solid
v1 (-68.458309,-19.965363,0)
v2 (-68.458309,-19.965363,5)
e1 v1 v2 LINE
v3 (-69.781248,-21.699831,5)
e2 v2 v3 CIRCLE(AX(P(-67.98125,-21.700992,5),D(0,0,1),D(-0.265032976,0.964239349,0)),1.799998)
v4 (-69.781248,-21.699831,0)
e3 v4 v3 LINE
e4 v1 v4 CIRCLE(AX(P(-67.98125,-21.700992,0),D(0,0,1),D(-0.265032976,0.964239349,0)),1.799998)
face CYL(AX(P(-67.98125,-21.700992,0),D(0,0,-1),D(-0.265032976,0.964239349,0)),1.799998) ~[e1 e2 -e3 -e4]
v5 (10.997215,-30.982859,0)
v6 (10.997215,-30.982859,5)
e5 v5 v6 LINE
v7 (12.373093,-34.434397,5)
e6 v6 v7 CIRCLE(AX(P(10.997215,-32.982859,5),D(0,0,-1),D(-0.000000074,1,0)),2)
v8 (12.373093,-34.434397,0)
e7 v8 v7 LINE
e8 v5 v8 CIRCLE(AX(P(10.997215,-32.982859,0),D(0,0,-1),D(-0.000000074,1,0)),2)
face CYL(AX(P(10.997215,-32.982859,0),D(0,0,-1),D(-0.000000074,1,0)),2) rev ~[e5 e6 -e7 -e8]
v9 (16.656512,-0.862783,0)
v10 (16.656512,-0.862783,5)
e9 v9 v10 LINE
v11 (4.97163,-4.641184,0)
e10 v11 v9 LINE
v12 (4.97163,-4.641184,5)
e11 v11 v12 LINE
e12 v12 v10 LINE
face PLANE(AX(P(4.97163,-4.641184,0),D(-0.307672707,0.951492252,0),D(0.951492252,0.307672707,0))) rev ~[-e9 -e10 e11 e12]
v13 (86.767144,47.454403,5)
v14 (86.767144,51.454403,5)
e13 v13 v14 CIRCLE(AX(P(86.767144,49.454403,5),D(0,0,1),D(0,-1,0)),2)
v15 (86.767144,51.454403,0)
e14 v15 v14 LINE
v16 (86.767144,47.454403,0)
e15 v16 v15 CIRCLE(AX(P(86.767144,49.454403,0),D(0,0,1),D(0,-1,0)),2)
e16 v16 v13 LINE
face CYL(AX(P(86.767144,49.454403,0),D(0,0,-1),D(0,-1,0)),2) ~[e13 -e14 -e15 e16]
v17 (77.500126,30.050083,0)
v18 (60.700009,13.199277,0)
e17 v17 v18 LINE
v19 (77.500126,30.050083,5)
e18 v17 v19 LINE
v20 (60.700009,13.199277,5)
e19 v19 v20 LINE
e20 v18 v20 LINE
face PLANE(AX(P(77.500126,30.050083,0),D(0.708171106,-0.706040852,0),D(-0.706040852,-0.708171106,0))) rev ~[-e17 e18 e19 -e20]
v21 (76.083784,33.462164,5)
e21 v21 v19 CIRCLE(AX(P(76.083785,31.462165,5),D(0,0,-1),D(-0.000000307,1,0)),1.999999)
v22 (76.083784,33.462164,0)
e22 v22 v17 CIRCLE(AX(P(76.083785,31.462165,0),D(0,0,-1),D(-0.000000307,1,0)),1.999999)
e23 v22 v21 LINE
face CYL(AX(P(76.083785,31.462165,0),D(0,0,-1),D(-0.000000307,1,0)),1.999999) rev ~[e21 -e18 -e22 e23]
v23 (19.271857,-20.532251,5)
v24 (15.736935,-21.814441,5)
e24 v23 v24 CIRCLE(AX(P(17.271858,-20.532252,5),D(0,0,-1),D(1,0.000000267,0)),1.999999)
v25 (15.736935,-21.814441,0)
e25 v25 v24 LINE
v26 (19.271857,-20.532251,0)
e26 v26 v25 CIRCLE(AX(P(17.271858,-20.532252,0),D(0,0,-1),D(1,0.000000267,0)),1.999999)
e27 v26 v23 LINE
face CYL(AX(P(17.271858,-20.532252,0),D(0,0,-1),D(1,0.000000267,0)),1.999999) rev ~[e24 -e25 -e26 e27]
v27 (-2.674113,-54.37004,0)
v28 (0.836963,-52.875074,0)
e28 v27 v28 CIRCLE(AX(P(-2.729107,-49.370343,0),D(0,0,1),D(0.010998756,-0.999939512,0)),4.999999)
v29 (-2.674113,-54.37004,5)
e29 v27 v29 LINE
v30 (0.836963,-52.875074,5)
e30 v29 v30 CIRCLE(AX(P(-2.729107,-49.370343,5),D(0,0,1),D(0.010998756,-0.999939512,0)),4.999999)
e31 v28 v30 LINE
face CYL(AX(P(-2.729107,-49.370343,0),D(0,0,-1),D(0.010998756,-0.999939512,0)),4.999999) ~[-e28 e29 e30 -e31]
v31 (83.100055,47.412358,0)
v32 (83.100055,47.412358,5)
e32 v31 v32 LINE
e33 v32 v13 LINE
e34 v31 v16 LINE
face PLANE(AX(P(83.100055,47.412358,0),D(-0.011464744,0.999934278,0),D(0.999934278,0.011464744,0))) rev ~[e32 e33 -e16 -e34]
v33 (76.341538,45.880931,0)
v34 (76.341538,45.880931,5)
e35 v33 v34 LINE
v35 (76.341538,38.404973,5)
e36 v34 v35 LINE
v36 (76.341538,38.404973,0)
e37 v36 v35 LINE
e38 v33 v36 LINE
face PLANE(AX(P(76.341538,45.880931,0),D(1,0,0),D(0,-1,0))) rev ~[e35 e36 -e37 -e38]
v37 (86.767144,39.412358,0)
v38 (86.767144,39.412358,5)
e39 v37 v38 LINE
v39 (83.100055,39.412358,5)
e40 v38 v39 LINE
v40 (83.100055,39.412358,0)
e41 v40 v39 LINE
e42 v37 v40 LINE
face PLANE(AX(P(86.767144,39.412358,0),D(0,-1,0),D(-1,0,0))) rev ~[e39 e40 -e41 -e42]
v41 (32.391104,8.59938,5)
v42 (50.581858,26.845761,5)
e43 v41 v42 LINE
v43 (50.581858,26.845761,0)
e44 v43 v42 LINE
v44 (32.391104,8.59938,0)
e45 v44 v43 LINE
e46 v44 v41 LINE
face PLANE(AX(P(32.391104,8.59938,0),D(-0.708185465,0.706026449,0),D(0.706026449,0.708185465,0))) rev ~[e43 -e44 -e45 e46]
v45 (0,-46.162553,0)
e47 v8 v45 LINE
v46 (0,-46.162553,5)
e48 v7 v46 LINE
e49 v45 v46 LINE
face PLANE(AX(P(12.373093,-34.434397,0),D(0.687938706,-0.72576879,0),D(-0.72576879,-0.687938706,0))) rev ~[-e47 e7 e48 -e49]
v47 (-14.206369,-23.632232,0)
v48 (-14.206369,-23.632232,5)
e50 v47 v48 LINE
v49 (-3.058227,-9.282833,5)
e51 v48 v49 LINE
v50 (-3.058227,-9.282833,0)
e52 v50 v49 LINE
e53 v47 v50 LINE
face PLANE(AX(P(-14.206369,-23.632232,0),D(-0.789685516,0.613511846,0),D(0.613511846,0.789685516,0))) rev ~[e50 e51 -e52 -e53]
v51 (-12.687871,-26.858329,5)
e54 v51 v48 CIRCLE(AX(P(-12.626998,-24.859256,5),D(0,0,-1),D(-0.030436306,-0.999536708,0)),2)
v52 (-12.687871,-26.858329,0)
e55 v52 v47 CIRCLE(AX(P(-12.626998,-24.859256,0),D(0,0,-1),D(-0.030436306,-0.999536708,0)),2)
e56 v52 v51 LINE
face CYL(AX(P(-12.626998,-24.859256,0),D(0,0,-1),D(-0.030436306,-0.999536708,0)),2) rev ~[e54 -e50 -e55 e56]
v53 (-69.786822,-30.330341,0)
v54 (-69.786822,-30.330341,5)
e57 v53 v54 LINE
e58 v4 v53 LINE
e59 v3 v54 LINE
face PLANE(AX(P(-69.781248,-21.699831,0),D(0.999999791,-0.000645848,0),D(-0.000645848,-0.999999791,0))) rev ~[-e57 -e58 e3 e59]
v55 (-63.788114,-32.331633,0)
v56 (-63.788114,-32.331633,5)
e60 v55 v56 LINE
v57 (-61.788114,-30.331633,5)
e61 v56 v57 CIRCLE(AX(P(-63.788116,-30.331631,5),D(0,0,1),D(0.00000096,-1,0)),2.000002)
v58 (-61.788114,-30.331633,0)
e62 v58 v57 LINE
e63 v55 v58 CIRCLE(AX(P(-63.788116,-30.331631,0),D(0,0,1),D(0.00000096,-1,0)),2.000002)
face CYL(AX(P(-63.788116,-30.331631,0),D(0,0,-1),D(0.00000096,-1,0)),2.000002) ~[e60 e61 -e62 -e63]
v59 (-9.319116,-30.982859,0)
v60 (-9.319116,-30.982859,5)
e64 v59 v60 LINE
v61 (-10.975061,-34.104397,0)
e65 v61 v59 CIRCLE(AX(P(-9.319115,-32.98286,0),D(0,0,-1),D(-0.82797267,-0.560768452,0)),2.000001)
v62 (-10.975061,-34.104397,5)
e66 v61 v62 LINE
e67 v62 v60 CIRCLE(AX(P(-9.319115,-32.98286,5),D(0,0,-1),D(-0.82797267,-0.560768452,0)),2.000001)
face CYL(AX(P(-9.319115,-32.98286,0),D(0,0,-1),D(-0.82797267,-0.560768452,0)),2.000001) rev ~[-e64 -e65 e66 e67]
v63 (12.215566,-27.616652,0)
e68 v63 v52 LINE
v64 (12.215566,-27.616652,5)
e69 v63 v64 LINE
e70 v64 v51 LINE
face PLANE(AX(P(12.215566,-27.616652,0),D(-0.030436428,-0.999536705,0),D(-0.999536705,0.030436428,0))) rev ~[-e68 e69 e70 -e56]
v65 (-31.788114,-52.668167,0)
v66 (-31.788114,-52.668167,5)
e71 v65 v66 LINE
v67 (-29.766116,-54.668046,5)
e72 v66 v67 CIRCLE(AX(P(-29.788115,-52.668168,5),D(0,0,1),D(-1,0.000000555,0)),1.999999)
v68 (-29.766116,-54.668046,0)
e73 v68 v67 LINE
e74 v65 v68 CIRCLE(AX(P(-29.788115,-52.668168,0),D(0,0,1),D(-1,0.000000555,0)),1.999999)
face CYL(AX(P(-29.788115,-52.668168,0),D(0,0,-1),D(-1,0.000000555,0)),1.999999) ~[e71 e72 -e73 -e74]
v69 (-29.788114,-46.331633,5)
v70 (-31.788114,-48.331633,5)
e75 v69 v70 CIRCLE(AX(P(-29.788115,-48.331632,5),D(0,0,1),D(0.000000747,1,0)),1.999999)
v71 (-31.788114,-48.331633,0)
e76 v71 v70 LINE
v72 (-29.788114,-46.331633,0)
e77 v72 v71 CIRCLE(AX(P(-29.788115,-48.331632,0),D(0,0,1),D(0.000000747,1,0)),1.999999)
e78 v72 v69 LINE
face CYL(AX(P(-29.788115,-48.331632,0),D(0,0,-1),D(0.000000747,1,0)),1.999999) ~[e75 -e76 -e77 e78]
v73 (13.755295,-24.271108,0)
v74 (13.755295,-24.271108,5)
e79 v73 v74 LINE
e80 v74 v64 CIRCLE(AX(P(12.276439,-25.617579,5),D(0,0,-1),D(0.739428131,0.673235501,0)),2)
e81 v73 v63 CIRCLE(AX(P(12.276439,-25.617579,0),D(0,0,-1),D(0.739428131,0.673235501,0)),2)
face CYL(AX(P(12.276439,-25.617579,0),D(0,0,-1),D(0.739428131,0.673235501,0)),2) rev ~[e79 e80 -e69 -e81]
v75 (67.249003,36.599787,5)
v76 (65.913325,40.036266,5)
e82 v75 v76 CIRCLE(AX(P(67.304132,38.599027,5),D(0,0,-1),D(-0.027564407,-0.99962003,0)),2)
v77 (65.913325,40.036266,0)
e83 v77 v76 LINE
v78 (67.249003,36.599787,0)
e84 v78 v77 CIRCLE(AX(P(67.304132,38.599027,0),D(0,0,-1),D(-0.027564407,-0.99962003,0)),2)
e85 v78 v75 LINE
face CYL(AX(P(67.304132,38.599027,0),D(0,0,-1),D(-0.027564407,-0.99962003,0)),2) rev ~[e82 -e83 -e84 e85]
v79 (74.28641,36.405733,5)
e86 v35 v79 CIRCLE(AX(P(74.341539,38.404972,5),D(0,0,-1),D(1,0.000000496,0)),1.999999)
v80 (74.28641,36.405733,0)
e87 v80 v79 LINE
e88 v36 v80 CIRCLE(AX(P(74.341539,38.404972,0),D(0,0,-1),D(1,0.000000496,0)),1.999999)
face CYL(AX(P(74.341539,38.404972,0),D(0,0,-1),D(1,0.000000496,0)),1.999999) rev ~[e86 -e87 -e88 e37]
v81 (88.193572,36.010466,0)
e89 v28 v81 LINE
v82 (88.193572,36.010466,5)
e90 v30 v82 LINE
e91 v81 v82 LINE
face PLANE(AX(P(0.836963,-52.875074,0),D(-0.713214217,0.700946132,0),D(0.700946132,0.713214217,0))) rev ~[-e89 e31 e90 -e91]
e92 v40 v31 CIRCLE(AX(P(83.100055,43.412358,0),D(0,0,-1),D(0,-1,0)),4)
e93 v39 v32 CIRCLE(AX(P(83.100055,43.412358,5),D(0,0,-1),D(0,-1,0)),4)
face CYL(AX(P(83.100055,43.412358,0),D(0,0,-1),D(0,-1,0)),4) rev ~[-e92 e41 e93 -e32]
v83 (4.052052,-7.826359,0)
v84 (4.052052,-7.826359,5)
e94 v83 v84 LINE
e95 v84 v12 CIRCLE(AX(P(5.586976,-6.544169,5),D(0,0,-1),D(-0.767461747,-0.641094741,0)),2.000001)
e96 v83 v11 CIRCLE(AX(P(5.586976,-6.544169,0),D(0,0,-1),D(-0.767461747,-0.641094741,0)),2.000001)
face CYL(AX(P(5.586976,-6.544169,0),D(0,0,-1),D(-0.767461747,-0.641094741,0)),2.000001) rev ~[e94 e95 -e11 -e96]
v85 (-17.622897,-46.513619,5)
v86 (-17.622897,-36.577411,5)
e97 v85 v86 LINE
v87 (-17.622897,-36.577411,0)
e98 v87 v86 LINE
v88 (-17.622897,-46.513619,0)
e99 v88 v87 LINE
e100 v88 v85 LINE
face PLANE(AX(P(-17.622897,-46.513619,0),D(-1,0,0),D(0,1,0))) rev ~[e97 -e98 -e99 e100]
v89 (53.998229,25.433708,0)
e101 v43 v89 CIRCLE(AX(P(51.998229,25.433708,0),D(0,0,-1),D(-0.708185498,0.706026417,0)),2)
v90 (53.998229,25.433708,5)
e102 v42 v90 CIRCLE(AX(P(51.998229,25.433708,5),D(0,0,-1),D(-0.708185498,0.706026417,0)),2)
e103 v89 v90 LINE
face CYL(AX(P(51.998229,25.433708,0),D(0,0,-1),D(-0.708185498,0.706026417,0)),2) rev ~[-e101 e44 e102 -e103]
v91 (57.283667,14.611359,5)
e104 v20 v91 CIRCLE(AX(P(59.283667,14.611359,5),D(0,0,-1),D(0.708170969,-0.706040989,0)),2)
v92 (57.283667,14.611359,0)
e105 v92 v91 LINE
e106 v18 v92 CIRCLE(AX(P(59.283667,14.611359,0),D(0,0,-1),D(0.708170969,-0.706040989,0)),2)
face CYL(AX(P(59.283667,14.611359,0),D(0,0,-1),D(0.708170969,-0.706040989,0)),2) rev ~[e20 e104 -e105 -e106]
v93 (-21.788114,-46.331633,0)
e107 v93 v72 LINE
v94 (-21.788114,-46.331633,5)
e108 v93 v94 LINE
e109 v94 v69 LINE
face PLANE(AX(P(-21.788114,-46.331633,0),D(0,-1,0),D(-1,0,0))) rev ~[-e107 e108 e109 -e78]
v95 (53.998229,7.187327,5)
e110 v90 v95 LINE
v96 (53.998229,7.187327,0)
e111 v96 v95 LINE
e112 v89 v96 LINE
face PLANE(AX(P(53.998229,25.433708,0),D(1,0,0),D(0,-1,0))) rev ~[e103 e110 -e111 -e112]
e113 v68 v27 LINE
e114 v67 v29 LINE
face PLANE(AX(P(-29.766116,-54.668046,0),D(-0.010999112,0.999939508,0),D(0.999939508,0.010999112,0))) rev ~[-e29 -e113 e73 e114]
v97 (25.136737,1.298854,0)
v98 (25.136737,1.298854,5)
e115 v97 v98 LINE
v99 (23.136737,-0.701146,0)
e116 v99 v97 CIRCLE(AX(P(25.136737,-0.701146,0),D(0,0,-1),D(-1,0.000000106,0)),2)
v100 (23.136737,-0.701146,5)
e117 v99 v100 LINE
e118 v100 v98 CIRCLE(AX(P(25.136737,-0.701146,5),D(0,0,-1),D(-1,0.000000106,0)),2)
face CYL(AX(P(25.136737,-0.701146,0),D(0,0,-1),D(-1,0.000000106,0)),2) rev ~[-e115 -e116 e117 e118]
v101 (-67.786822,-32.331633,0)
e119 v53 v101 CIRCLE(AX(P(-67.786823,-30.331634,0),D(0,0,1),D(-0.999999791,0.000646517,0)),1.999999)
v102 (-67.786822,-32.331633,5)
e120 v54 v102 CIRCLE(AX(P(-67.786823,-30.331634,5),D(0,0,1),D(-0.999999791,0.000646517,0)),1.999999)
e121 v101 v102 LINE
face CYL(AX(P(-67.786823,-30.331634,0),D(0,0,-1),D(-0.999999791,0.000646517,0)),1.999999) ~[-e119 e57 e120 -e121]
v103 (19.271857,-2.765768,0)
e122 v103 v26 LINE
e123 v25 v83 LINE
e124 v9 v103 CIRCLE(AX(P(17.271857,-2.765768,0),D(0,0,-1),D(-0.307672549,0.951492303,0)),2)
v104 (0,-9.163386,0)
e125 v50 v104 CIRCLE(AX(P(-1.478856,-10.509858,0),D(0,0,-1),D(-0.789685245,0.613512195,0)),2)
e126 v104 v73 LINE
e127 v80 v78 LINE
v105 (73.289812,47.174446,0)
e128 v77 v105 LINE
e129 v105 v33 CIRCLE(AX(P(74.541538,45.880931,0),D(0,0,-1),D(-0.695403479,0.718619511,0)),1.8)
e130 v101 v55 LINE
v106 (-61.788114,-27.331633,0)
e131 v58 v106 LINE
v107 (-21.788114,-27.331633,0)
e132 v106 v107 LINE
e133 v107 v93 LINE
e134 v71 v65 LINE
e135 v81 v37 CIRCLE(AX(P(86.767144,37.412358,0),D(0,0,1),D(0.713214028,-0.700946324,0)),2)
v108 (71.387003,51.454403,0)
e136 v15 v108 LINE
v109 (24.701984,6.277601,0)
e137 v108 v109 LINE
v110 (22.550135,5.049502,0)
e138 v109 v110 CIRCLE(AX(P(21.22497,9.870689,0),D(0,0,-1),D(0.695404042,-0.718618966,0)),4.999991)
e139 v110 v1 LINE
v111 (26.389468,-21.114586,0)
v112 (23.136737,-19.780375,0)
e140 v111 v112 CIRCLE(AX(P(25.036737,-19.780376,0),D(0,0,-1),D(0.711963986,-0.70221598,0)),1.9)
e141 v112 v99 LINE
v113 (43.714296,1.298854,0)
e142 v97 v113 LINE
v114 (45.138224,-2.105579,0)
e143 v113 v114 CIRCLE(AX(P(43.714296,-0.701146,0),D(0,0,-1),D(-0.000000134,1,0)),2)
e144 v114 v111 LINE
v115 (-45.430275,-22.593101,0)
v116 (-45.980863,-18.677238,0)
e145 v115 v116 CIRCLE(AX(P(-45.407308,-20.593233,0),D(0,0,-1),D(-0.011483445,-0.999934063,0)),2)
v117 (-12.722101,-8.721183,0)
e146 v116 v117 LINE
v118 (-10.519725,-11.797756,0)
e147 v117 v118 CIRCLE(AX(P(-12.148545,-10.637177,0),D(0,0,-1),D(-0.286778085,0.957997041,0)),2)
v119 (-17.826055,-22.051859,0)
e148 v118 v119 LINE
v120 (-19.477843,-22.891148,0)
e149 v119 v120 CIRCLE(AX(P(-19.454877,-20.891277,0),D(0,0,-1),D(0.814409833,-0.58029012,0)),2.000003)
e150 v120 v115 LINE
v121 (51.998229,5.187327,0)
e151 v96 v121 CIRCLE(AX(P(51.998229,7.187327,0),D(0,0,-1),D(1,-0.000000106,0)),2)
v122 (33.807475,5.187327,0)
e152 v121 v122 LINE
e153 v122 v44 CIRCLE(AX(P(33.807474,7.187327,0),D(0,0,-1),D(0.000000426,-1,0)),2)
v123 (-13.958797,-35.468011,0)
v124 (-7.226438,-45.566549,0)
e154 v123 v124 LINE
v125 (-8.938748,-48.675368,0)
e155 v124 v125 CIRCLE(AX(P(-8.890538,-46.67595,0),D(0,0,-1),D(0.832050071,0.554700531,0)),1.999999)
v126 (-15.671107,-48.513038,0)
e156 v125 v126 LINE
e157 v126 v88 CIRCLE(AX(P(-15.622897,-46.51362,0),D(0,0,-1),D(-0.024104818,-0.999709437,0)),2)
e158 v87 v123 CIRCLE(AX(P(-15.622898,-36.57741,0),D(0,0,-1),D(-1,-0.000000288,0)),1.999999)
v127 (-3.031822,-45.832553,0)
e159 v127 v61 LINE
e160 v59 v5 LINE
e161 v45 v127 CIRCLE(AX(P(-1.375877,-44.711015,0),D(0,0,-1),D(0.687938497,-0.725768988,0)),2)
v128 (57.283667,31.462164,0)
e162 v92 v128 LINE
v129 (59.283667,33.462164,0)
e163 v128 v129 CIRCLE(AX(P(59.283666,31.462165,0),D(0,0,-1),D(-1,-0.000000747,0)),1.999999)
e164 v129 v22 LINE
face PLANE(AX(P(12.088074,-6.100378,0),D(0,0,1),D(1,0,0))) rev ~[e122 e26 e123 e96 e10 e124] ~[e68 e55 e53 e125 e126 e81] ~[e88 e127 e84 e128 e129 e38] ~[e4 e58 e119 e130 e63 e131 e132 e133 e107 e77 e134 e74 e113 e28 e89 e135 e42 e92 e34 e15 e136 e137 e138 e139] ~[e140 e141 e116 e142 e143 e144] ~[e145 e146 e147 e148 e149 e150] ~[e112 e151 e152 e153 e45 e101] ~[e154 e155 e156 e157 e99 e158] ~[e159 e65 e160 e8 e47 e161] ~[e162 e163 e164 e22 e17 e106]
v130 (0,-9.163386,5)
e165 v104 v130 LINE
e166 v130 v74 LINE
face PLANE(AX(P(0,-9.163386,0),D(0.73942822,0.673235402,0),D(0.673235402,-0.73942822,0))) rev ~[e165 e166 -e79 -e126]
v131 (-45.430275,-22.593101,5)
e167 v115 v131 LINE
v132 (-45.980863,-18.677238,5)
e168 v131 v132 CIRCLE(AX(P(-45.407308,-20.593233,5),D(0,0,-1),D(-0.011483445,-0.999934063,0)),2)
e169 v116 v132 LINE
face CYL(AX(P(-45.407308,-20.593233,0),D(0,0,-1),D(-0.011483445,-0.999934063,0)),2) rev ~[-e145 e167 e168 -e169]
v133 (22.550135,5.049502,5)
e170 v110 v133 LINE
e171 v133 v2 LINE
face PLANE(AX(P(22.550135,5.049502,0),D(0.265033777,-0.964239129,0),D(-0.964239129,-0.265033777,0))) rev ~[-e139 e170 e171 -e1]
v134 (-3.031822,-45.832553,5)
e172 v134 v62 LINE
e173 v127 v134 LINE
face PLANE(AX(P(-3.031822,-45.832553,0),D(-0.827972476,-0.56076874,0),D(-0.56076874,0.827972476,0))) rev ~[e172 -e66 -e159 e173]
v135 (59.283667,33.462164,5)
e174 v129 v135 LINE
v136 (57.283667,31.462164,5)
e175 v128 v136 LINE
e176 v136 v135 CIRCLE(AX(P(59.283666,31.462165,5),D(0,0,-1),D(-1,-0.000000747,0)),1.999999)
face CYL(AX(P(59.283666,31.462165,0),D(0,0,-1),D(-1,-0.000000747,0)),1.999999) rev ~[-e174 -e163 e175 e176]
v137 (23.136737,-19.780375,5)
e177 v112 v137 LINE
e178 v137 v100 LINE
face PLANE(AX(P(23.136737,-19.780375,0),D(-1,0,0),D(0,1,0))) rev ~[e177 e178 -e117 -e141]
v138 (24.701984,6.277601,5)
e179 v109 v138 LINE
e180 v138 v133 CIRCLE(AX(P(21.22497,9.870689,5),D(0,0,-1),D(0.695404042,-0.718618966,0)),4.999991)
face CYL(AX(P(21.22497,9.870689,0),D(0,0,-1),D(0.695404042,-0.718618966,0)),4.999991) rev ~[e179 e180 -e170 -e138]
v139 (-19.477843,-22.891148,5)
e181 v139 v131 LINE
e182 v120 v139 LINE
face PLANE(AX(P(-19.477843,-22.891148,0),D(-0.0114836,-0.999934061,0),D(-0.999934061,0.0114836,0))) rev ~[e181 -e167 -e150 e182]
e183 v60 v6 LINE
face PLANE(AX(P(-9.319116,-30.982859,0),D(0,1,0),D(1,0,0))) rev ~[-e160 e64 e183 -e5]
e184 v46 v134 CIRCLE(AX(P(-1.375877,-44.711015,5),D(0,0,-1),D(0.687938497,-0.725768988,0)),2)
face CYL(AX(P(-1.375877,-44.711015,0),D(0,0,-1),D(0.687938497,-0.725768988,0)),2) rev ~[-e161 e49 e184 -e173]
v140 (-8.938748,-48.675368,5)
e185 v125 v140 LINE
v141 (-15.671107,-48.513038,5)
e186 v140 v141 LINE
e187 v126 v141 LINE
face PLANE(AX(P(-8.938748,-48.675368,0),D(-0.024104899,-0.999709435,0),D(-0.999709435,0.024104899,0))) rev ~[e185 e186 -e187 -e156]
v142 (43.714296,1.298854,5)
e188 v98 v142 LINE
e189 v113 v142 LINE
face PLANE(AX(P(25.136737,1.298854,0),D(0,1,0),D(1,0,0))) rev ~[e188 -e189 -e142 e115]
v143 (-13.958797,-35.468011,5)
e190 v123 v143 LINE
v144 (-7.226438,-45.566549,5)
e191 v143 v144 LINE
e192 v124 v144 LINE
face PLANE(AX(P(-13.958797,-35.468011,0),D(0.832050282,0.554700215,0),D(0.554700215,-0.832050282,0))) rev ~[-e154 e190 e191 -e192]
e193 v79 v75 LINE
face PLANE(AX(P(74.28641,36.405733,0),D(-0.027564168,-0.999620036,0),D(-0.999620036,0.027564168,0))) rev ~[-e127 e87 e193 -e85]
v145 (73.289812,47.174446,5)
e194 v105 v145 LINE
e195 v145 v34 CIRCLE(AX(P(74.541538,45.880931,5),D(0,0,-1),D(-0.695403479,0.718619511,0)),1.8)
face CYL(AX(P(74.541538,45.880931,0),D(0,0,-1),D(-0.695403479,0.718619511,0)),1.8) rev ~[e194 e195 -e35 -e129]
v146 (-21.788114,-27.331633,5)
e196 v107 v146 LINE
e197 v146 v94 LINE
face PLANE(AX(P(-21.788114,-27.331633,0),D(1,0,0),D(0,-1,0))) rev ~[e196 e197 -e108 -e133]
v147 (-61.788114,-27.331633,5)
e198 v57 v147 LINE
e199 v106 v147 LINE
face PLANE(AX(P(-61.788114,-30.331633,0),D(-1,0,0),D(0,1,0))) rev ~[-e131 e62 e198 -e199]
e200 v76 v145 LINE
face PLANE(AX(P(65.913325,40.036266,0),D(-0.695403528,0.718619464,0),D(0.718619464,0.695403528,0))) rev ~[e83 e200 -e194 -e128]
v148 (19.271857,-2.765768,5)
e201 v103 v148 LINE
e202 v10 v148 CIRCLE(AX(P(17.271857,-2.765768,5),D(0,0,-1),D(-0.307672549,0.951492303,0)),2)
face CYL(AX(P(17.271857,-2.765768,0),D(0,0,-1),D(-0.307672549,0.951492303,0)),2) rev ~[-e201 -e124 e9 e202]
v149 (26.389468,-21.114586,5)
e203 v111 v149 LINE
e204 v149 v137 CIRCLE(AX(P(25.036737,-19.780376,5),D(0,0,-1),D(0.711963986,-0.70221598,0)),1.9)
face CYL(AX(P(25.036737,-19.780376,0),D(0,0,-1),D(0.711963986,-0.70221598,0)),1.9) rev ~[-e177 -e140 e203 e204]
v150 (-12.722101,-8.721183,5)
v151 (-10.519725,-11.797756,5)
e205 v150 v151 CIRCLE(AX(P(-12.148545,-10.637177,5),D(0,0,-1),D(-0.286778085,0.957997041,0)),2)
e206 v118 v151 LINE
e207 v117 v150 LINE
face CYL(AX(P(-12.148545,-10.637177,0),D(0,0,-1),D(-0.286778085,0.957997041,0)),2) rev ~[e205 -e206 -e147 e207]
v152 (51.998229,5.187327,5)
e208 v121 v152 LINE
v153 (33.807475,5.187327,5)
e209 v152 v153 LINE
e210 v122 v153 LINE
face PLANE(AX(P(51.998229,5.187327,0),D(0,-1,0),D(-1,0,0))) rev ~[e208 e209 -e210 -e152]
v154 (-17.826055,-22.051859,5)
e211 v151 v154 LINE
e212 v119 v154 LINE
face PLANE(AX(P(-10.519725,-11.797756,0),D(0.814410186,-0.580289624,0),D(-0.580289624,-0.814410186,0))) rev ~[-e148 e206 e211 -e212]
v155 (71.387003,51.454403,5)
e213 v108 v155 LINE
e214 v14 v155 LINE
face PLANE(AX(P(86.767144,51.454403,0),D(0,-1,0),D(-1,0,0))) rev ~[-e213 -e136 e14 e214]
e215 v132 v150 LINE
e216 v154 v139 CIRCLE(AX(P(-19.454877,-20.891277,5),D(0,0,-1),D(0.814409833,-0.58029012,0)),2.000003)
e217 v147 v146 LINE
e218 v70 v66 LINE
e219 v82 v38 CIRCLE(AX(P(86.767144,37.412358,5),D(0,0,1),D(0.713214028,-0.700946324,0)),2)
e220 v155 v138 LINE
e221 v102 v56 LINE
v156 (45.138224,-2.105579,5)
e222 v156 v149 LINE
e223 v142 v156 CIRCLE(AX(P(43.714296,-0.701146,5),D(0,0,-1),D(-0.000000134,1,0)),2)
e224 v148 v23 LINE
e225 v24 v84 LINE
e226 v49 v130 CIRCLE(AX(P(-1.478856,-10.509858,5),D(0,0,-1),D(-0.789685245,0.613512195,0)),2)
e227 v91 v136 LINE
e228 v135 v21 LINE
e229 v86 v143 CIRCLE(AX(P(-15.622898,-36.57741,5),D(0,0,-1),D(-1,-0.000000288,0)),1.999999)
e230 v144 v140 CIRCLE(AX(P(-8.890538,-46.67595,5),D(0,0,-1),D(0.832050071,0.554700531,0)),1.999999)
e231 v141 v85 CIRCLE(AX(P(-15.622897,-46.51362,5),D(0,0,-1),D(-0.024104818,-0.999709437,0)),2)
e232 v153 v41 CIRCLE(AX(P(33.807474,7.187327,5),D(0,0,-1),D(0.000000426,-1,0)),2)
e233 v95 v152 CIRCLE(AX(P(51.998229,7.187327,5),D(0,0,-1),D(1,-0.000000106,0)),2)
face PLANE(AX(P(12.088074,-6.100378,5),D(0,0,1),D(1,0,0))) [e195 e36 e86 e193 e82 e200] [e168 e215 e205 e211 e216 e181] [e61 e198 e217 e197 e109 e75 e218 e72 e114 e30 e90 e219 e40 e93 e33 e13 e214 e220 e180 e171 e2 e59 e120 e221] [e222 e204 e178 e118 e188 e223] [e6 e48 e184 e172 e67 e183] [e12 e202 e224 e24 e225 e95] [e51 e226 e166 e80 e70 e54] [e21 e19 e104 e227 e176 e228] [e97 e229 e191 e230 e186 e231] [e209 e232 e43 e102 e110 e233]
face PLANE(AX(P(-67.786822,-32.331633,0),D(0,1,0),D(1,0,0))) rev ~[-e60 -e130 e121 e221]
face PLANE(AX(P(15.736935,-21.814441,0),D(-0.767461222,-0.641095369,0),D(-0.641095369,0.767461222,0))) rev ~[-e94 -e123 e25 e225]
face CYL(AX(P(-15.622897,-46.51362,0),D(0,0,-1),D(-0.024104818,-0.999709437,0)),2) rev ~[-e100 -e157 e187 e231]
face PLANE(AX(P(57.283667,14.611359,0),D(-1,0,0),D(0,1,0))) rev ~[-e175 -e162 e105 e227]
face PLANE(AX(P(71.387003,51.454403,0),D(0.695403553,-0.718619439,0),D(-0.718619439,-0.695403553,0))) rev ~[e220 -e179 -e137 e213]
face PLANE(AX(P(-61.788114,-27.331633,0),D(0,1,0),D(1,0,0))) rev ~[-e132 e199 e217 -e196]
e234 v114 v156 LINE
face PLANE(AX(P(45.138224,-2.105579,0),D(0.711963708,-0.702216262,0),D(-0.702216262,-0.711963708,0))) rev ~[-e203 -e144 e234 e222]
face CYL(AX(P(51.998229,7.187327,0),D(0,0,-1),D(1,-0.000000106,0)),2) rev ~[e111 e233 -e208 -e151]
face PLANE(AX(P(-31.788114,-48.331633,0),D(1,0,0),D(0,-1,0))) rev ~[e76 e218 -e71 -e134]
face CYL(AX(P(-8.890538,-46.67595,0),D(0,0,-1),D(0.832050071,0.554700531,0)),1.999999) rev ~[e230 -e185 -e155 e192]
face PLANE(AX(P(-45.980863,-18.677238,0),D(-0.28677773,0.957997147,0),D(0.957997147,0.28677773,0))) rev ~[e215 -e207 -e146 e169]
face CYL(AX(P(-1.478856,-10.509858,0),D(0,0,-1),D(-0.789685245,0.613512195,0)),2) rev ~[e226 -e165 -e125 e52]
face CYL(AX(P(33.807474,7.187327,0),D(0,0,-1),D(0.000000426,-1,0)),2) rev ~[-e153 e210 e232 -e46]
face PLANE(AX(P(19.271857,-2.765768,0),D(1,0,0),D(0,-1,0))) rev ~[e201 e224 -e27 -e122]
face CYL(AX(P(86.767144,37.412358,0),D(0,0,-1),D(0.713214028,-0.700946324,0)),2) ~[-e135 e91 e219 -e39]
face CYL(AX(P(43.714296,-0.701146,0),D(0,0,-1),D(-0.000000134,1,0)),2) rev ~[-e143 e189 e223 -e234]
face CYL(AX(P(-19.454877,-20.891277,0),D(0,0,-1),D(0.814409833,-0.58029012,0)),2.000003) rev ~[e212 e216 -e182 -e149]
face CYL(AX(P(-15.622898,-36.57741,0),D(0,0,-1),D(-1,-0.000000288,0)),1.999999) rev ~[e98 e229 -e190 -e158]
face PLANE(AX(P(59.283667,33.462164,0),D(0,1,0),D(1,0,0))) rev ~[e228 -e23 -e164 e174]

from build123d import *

# Parameters (mm, degrees)
F1_DEPTH = 5


with BuildPart() as f1:
    # F0 (on Top) → F1 (new body)
    with BuildSketch(Plane.XY):
        with BuildLine():
            ThreePointArc((-2.674113, -54.37004), (-0.770343, -53.970695), (0.836963, -52.875074))
            Line((0.836963, -52.875074), (88.193572, 36.010466))
            ThreePointArc((88.193572, 36.010466), (88.611566, 38.185732), (86.767144, 39.412358))
            Line((86.767144, 39.412358), (83.100055, 39.412358))
            ThreePointArc((83.100055, 39.412358), (79.100055, 43.412358), (83.100055, 47.412358))
            Line((83.100055, 47.412358), (86.767144, 47.454403))
            ThreePointArc((86.767144, 47.454403), (88.767144, 49.454403), (86.767144, 51.454403))
            Line((86.767144, 51.454403), (71.387003, 51.454403))
            Line((71.387003, 51.454403), (24.701984, 6.277601))
            ThreePointArc((24.701984, 6.277601), (23.703334, 5.528153), (22.550135, 5.049502))
            Line((22.550135, 5.049502), (-68.458309, -19.965363))
            ThreePointArc((-68.458309, -19.965363), (-69.412453, -20.609364), (-69.781248, -21.699831))
            Line((-69.781248, -21.699831), (-69.786822, -30.330341))
            ThreePointArc((-69.786822, -30.330341), (-69.201493, -31.74539), (-67.786822, -32.331633))
            Line((-67.786822, -32.331633), (-63.788114, -32.331633))
            ThreePointArc((-63.788114, -32.331633), (-62.373901, -31.745846), (-61.788114, -30.331633))
            Line((-61.788114, -30.331633), (-61.788114, -27.331633))
            Line((-61.788114, -27.331633), (-21.788114, -27.331633))
            Line((-21.788114, -27.331633), (-21.788114, -46.331633))
            Line((-21.788114, -46.331633), (-29.788114, -46.331633))
            ThreePointArc((-29.788114, -46.331633), (-31.202328, -46.917419), (-31.788114, -48.331633))
            Line((-31.788114, -48.331633), (-31.788114, -52.668167))
            ThreePointArc((-31.788114, -52.668167), (-31.194529, -54.090137), (-29.766116, -54.668046))
            Line((-29.766116, -54.668046), (-2.674113, -54.37004))
        make_face()
        with BuildLine():
            Line((-13.958797, -35.468011), (-7.226438, -45.566549))
            ThreePointArc((-7.226438, -45.566549), (-7.138692, -47.640851), (-8.938748, -48.675368))
            Line((-8.938748, -48.675368), (-15.671107, -48.513038))
            ThreePointArc((-15.671107, -48.513038), (-17.054054, -47.910684), (-17.622897, -46.513619))
            Line((-17.622897, -46.513619), (-17.622897, -36.577411))
            ThreePointArc((-17.622897, -36.577411), (-16.202466, -34.663227), (-13.958797, -35.468011))
        make_face(mode=Mode.SUBTRACT)
        with BuildLine():
            ThreePointArc((-10.975061, -34.104397), (-11.085903, -32.045596), (-9.319116, -30.982859))
            Line((-9.319116, -30.982859), (10.997215, -30.982859))
            ThreePointArc((10.997215, -30.982859), (12.855047, -32.242277), (12.373093, -34.434397))
            Line((12.373093, -34.434397), (0, -46.162553))
            ThreePointArc((0, -46.162553), (-1.59229, -46.699272), (-3.031822, -45.832553))
            Line((-3.031822, -45.832553), (-10.975061, -34.104397))
        make_face(mode=Mode.SUBTRACT)
        with BuildLine():
            Line((-10.519725, -11.797756), (-17.826055, -22.051859))
            ThreePointArc((-17.826055, -22.051859), (-18.5489, -22.674313), (-19.477843, -22.891148))
            Line((-19.477843, -22.891148), (-45.430275, -22.593101))
            ThreePointArc((-45.430275, -22.593101), (-47.387827, -20.871703), (-45.980863, -18.677238))
            Line((-45.980863, -18.677238), (-12.722101, -8.721183))
            ThreePointArc((-12.722101, -8.721183), (-10.522285, -9.473013), (-10.519725, -11.797756))
        make_face(mode=Mode.SUBTRACT)
        with BuildLine():
            Line((12.215566, -27.616652), (-12.687871, -26.858329))
            ThreePointArc((-12.687871, -26.858329), (-14.436563, -25.711004), (-14.206369, -23.632232))
            Line((-14.206369, -23.632232), (-3.058227, -9.282833))
            ThreePointArc((-3.058227, -9.282833), (-1.556912, -8.511381), (0, -9.163386))
            Line((0, -9.163386), (13.755295, -24.271108))
            ThreePointArc((13.755295, -24.271108), (14.093259, -26.453739), (12.215566, -27.616652))
        make_face(mode=Mode.SUBTRACT)
        with BuildLine():
            Line((19.271857, -2.765768), (19.271857, -20.532251))
            ThreePointArc((19.271857, -20.532251), (17.953823, -22.41239), (15.736935, -21.814441))
            Line((15.736935, -21.814441), (4.052052, -7.826359))
            ThreePointArc((4.052052, -7.826359), (3.665453, -5.989415), (4.97163, -4.641184))
            Line((4.97163, -4.641184), (16.656512, -0.862783))
            ThreePointArc((16.656512, -0.862783), (18.448571, -1.148565), (19.271857, -2.765768))
        make_face(mode=Mode.SUBTRACT)
        with BuildLine():
            Line((25.136737, 1.298854), (43.714296, 1.298854))
            ThreePointArc((43.714296, 1.298854), (45.559407, 0.070584), (45.138224, -2.105579))
            Line((45.138224, -2.105579), (26.389468, -21.114586))
            ThreePointArc((26.389468, -21.114586), (24.315692, -21.538242), (23.136737, -19.780375))
            Line((23.136737, -19.780375), (23.136737, -0.701146))
            ThreePointArc((23.136737, -0.701146), (23.722523, 0.713067), (25.136737, 1.298854))
        make_face(mode=Mode.SUBTRACT)
        with BuildLine():
            ThreePointArc((53.998229, 7.187327), (53.412442, 5.773113), (51.998229, 5.187327))
            Line((51.998229, 5.187327), (33.807475, 5.187327))
            ThreePointArc((33.807475, 5.187327), (31.9603, 6.42055), (32.391104, 8.59938))
            Line((32.391104, 8.59938), (50.581858, 26.845761))
            ThreePointArc((50.581858, 26.845761), (52.762185, 27.282051), (53.998229, 25.433708))
            Line((53.998229, 25.433708), (53.998229, 7.187327))
        make_face(mode=Mode.SUBTRACT)
        with BuildLine():
            Line((59.283667, 33.462164), (76.083784, 33.462164))
            ThreePointArc((76.083784, 33.462164), (77.930966, 32.228923), (77.500126, 30.050083))
            Line((77.500126, 30.050083), (60.700009, 13.199277))
            ThreePointArc((60.700009, 13.199277), (58.519692, 12.763024), (57.283667, 14.611359))
            Line((57.283667, 14.611359), (57.283667, 31.462164))
            ThreePointArc((57.283667, 31.462164), (57.869453, 32.876378), (59.283667, 33.462164))
        make_face(mode=Mode.SUBTRACT)
        with BuildLine():
            Line((76.341538, 45.880931), (76.341538, 38.404973))
            ThreePointArc((76.341538, 38.404973), (75.736125, 36.971401), (74.28641, 36.405733))
            Line((74.28641, 36.405733), (67.249003, 36.599787))
            ThreePointArc((67.249003, 36.599787), (65.439989, 37.874478), (65.913325, 40.036266))
            Line((65.913325, 40.036266), (73.289812, 47.174446))
            ThreePointArc((73.289812, 47.174446), (75.243995, 47.538204), (76.341538, 45.880931))
        make_face(mode=Mode.SUBTRACT)
    extrude(amount=F1_DEPTH)


solid = f1.part
